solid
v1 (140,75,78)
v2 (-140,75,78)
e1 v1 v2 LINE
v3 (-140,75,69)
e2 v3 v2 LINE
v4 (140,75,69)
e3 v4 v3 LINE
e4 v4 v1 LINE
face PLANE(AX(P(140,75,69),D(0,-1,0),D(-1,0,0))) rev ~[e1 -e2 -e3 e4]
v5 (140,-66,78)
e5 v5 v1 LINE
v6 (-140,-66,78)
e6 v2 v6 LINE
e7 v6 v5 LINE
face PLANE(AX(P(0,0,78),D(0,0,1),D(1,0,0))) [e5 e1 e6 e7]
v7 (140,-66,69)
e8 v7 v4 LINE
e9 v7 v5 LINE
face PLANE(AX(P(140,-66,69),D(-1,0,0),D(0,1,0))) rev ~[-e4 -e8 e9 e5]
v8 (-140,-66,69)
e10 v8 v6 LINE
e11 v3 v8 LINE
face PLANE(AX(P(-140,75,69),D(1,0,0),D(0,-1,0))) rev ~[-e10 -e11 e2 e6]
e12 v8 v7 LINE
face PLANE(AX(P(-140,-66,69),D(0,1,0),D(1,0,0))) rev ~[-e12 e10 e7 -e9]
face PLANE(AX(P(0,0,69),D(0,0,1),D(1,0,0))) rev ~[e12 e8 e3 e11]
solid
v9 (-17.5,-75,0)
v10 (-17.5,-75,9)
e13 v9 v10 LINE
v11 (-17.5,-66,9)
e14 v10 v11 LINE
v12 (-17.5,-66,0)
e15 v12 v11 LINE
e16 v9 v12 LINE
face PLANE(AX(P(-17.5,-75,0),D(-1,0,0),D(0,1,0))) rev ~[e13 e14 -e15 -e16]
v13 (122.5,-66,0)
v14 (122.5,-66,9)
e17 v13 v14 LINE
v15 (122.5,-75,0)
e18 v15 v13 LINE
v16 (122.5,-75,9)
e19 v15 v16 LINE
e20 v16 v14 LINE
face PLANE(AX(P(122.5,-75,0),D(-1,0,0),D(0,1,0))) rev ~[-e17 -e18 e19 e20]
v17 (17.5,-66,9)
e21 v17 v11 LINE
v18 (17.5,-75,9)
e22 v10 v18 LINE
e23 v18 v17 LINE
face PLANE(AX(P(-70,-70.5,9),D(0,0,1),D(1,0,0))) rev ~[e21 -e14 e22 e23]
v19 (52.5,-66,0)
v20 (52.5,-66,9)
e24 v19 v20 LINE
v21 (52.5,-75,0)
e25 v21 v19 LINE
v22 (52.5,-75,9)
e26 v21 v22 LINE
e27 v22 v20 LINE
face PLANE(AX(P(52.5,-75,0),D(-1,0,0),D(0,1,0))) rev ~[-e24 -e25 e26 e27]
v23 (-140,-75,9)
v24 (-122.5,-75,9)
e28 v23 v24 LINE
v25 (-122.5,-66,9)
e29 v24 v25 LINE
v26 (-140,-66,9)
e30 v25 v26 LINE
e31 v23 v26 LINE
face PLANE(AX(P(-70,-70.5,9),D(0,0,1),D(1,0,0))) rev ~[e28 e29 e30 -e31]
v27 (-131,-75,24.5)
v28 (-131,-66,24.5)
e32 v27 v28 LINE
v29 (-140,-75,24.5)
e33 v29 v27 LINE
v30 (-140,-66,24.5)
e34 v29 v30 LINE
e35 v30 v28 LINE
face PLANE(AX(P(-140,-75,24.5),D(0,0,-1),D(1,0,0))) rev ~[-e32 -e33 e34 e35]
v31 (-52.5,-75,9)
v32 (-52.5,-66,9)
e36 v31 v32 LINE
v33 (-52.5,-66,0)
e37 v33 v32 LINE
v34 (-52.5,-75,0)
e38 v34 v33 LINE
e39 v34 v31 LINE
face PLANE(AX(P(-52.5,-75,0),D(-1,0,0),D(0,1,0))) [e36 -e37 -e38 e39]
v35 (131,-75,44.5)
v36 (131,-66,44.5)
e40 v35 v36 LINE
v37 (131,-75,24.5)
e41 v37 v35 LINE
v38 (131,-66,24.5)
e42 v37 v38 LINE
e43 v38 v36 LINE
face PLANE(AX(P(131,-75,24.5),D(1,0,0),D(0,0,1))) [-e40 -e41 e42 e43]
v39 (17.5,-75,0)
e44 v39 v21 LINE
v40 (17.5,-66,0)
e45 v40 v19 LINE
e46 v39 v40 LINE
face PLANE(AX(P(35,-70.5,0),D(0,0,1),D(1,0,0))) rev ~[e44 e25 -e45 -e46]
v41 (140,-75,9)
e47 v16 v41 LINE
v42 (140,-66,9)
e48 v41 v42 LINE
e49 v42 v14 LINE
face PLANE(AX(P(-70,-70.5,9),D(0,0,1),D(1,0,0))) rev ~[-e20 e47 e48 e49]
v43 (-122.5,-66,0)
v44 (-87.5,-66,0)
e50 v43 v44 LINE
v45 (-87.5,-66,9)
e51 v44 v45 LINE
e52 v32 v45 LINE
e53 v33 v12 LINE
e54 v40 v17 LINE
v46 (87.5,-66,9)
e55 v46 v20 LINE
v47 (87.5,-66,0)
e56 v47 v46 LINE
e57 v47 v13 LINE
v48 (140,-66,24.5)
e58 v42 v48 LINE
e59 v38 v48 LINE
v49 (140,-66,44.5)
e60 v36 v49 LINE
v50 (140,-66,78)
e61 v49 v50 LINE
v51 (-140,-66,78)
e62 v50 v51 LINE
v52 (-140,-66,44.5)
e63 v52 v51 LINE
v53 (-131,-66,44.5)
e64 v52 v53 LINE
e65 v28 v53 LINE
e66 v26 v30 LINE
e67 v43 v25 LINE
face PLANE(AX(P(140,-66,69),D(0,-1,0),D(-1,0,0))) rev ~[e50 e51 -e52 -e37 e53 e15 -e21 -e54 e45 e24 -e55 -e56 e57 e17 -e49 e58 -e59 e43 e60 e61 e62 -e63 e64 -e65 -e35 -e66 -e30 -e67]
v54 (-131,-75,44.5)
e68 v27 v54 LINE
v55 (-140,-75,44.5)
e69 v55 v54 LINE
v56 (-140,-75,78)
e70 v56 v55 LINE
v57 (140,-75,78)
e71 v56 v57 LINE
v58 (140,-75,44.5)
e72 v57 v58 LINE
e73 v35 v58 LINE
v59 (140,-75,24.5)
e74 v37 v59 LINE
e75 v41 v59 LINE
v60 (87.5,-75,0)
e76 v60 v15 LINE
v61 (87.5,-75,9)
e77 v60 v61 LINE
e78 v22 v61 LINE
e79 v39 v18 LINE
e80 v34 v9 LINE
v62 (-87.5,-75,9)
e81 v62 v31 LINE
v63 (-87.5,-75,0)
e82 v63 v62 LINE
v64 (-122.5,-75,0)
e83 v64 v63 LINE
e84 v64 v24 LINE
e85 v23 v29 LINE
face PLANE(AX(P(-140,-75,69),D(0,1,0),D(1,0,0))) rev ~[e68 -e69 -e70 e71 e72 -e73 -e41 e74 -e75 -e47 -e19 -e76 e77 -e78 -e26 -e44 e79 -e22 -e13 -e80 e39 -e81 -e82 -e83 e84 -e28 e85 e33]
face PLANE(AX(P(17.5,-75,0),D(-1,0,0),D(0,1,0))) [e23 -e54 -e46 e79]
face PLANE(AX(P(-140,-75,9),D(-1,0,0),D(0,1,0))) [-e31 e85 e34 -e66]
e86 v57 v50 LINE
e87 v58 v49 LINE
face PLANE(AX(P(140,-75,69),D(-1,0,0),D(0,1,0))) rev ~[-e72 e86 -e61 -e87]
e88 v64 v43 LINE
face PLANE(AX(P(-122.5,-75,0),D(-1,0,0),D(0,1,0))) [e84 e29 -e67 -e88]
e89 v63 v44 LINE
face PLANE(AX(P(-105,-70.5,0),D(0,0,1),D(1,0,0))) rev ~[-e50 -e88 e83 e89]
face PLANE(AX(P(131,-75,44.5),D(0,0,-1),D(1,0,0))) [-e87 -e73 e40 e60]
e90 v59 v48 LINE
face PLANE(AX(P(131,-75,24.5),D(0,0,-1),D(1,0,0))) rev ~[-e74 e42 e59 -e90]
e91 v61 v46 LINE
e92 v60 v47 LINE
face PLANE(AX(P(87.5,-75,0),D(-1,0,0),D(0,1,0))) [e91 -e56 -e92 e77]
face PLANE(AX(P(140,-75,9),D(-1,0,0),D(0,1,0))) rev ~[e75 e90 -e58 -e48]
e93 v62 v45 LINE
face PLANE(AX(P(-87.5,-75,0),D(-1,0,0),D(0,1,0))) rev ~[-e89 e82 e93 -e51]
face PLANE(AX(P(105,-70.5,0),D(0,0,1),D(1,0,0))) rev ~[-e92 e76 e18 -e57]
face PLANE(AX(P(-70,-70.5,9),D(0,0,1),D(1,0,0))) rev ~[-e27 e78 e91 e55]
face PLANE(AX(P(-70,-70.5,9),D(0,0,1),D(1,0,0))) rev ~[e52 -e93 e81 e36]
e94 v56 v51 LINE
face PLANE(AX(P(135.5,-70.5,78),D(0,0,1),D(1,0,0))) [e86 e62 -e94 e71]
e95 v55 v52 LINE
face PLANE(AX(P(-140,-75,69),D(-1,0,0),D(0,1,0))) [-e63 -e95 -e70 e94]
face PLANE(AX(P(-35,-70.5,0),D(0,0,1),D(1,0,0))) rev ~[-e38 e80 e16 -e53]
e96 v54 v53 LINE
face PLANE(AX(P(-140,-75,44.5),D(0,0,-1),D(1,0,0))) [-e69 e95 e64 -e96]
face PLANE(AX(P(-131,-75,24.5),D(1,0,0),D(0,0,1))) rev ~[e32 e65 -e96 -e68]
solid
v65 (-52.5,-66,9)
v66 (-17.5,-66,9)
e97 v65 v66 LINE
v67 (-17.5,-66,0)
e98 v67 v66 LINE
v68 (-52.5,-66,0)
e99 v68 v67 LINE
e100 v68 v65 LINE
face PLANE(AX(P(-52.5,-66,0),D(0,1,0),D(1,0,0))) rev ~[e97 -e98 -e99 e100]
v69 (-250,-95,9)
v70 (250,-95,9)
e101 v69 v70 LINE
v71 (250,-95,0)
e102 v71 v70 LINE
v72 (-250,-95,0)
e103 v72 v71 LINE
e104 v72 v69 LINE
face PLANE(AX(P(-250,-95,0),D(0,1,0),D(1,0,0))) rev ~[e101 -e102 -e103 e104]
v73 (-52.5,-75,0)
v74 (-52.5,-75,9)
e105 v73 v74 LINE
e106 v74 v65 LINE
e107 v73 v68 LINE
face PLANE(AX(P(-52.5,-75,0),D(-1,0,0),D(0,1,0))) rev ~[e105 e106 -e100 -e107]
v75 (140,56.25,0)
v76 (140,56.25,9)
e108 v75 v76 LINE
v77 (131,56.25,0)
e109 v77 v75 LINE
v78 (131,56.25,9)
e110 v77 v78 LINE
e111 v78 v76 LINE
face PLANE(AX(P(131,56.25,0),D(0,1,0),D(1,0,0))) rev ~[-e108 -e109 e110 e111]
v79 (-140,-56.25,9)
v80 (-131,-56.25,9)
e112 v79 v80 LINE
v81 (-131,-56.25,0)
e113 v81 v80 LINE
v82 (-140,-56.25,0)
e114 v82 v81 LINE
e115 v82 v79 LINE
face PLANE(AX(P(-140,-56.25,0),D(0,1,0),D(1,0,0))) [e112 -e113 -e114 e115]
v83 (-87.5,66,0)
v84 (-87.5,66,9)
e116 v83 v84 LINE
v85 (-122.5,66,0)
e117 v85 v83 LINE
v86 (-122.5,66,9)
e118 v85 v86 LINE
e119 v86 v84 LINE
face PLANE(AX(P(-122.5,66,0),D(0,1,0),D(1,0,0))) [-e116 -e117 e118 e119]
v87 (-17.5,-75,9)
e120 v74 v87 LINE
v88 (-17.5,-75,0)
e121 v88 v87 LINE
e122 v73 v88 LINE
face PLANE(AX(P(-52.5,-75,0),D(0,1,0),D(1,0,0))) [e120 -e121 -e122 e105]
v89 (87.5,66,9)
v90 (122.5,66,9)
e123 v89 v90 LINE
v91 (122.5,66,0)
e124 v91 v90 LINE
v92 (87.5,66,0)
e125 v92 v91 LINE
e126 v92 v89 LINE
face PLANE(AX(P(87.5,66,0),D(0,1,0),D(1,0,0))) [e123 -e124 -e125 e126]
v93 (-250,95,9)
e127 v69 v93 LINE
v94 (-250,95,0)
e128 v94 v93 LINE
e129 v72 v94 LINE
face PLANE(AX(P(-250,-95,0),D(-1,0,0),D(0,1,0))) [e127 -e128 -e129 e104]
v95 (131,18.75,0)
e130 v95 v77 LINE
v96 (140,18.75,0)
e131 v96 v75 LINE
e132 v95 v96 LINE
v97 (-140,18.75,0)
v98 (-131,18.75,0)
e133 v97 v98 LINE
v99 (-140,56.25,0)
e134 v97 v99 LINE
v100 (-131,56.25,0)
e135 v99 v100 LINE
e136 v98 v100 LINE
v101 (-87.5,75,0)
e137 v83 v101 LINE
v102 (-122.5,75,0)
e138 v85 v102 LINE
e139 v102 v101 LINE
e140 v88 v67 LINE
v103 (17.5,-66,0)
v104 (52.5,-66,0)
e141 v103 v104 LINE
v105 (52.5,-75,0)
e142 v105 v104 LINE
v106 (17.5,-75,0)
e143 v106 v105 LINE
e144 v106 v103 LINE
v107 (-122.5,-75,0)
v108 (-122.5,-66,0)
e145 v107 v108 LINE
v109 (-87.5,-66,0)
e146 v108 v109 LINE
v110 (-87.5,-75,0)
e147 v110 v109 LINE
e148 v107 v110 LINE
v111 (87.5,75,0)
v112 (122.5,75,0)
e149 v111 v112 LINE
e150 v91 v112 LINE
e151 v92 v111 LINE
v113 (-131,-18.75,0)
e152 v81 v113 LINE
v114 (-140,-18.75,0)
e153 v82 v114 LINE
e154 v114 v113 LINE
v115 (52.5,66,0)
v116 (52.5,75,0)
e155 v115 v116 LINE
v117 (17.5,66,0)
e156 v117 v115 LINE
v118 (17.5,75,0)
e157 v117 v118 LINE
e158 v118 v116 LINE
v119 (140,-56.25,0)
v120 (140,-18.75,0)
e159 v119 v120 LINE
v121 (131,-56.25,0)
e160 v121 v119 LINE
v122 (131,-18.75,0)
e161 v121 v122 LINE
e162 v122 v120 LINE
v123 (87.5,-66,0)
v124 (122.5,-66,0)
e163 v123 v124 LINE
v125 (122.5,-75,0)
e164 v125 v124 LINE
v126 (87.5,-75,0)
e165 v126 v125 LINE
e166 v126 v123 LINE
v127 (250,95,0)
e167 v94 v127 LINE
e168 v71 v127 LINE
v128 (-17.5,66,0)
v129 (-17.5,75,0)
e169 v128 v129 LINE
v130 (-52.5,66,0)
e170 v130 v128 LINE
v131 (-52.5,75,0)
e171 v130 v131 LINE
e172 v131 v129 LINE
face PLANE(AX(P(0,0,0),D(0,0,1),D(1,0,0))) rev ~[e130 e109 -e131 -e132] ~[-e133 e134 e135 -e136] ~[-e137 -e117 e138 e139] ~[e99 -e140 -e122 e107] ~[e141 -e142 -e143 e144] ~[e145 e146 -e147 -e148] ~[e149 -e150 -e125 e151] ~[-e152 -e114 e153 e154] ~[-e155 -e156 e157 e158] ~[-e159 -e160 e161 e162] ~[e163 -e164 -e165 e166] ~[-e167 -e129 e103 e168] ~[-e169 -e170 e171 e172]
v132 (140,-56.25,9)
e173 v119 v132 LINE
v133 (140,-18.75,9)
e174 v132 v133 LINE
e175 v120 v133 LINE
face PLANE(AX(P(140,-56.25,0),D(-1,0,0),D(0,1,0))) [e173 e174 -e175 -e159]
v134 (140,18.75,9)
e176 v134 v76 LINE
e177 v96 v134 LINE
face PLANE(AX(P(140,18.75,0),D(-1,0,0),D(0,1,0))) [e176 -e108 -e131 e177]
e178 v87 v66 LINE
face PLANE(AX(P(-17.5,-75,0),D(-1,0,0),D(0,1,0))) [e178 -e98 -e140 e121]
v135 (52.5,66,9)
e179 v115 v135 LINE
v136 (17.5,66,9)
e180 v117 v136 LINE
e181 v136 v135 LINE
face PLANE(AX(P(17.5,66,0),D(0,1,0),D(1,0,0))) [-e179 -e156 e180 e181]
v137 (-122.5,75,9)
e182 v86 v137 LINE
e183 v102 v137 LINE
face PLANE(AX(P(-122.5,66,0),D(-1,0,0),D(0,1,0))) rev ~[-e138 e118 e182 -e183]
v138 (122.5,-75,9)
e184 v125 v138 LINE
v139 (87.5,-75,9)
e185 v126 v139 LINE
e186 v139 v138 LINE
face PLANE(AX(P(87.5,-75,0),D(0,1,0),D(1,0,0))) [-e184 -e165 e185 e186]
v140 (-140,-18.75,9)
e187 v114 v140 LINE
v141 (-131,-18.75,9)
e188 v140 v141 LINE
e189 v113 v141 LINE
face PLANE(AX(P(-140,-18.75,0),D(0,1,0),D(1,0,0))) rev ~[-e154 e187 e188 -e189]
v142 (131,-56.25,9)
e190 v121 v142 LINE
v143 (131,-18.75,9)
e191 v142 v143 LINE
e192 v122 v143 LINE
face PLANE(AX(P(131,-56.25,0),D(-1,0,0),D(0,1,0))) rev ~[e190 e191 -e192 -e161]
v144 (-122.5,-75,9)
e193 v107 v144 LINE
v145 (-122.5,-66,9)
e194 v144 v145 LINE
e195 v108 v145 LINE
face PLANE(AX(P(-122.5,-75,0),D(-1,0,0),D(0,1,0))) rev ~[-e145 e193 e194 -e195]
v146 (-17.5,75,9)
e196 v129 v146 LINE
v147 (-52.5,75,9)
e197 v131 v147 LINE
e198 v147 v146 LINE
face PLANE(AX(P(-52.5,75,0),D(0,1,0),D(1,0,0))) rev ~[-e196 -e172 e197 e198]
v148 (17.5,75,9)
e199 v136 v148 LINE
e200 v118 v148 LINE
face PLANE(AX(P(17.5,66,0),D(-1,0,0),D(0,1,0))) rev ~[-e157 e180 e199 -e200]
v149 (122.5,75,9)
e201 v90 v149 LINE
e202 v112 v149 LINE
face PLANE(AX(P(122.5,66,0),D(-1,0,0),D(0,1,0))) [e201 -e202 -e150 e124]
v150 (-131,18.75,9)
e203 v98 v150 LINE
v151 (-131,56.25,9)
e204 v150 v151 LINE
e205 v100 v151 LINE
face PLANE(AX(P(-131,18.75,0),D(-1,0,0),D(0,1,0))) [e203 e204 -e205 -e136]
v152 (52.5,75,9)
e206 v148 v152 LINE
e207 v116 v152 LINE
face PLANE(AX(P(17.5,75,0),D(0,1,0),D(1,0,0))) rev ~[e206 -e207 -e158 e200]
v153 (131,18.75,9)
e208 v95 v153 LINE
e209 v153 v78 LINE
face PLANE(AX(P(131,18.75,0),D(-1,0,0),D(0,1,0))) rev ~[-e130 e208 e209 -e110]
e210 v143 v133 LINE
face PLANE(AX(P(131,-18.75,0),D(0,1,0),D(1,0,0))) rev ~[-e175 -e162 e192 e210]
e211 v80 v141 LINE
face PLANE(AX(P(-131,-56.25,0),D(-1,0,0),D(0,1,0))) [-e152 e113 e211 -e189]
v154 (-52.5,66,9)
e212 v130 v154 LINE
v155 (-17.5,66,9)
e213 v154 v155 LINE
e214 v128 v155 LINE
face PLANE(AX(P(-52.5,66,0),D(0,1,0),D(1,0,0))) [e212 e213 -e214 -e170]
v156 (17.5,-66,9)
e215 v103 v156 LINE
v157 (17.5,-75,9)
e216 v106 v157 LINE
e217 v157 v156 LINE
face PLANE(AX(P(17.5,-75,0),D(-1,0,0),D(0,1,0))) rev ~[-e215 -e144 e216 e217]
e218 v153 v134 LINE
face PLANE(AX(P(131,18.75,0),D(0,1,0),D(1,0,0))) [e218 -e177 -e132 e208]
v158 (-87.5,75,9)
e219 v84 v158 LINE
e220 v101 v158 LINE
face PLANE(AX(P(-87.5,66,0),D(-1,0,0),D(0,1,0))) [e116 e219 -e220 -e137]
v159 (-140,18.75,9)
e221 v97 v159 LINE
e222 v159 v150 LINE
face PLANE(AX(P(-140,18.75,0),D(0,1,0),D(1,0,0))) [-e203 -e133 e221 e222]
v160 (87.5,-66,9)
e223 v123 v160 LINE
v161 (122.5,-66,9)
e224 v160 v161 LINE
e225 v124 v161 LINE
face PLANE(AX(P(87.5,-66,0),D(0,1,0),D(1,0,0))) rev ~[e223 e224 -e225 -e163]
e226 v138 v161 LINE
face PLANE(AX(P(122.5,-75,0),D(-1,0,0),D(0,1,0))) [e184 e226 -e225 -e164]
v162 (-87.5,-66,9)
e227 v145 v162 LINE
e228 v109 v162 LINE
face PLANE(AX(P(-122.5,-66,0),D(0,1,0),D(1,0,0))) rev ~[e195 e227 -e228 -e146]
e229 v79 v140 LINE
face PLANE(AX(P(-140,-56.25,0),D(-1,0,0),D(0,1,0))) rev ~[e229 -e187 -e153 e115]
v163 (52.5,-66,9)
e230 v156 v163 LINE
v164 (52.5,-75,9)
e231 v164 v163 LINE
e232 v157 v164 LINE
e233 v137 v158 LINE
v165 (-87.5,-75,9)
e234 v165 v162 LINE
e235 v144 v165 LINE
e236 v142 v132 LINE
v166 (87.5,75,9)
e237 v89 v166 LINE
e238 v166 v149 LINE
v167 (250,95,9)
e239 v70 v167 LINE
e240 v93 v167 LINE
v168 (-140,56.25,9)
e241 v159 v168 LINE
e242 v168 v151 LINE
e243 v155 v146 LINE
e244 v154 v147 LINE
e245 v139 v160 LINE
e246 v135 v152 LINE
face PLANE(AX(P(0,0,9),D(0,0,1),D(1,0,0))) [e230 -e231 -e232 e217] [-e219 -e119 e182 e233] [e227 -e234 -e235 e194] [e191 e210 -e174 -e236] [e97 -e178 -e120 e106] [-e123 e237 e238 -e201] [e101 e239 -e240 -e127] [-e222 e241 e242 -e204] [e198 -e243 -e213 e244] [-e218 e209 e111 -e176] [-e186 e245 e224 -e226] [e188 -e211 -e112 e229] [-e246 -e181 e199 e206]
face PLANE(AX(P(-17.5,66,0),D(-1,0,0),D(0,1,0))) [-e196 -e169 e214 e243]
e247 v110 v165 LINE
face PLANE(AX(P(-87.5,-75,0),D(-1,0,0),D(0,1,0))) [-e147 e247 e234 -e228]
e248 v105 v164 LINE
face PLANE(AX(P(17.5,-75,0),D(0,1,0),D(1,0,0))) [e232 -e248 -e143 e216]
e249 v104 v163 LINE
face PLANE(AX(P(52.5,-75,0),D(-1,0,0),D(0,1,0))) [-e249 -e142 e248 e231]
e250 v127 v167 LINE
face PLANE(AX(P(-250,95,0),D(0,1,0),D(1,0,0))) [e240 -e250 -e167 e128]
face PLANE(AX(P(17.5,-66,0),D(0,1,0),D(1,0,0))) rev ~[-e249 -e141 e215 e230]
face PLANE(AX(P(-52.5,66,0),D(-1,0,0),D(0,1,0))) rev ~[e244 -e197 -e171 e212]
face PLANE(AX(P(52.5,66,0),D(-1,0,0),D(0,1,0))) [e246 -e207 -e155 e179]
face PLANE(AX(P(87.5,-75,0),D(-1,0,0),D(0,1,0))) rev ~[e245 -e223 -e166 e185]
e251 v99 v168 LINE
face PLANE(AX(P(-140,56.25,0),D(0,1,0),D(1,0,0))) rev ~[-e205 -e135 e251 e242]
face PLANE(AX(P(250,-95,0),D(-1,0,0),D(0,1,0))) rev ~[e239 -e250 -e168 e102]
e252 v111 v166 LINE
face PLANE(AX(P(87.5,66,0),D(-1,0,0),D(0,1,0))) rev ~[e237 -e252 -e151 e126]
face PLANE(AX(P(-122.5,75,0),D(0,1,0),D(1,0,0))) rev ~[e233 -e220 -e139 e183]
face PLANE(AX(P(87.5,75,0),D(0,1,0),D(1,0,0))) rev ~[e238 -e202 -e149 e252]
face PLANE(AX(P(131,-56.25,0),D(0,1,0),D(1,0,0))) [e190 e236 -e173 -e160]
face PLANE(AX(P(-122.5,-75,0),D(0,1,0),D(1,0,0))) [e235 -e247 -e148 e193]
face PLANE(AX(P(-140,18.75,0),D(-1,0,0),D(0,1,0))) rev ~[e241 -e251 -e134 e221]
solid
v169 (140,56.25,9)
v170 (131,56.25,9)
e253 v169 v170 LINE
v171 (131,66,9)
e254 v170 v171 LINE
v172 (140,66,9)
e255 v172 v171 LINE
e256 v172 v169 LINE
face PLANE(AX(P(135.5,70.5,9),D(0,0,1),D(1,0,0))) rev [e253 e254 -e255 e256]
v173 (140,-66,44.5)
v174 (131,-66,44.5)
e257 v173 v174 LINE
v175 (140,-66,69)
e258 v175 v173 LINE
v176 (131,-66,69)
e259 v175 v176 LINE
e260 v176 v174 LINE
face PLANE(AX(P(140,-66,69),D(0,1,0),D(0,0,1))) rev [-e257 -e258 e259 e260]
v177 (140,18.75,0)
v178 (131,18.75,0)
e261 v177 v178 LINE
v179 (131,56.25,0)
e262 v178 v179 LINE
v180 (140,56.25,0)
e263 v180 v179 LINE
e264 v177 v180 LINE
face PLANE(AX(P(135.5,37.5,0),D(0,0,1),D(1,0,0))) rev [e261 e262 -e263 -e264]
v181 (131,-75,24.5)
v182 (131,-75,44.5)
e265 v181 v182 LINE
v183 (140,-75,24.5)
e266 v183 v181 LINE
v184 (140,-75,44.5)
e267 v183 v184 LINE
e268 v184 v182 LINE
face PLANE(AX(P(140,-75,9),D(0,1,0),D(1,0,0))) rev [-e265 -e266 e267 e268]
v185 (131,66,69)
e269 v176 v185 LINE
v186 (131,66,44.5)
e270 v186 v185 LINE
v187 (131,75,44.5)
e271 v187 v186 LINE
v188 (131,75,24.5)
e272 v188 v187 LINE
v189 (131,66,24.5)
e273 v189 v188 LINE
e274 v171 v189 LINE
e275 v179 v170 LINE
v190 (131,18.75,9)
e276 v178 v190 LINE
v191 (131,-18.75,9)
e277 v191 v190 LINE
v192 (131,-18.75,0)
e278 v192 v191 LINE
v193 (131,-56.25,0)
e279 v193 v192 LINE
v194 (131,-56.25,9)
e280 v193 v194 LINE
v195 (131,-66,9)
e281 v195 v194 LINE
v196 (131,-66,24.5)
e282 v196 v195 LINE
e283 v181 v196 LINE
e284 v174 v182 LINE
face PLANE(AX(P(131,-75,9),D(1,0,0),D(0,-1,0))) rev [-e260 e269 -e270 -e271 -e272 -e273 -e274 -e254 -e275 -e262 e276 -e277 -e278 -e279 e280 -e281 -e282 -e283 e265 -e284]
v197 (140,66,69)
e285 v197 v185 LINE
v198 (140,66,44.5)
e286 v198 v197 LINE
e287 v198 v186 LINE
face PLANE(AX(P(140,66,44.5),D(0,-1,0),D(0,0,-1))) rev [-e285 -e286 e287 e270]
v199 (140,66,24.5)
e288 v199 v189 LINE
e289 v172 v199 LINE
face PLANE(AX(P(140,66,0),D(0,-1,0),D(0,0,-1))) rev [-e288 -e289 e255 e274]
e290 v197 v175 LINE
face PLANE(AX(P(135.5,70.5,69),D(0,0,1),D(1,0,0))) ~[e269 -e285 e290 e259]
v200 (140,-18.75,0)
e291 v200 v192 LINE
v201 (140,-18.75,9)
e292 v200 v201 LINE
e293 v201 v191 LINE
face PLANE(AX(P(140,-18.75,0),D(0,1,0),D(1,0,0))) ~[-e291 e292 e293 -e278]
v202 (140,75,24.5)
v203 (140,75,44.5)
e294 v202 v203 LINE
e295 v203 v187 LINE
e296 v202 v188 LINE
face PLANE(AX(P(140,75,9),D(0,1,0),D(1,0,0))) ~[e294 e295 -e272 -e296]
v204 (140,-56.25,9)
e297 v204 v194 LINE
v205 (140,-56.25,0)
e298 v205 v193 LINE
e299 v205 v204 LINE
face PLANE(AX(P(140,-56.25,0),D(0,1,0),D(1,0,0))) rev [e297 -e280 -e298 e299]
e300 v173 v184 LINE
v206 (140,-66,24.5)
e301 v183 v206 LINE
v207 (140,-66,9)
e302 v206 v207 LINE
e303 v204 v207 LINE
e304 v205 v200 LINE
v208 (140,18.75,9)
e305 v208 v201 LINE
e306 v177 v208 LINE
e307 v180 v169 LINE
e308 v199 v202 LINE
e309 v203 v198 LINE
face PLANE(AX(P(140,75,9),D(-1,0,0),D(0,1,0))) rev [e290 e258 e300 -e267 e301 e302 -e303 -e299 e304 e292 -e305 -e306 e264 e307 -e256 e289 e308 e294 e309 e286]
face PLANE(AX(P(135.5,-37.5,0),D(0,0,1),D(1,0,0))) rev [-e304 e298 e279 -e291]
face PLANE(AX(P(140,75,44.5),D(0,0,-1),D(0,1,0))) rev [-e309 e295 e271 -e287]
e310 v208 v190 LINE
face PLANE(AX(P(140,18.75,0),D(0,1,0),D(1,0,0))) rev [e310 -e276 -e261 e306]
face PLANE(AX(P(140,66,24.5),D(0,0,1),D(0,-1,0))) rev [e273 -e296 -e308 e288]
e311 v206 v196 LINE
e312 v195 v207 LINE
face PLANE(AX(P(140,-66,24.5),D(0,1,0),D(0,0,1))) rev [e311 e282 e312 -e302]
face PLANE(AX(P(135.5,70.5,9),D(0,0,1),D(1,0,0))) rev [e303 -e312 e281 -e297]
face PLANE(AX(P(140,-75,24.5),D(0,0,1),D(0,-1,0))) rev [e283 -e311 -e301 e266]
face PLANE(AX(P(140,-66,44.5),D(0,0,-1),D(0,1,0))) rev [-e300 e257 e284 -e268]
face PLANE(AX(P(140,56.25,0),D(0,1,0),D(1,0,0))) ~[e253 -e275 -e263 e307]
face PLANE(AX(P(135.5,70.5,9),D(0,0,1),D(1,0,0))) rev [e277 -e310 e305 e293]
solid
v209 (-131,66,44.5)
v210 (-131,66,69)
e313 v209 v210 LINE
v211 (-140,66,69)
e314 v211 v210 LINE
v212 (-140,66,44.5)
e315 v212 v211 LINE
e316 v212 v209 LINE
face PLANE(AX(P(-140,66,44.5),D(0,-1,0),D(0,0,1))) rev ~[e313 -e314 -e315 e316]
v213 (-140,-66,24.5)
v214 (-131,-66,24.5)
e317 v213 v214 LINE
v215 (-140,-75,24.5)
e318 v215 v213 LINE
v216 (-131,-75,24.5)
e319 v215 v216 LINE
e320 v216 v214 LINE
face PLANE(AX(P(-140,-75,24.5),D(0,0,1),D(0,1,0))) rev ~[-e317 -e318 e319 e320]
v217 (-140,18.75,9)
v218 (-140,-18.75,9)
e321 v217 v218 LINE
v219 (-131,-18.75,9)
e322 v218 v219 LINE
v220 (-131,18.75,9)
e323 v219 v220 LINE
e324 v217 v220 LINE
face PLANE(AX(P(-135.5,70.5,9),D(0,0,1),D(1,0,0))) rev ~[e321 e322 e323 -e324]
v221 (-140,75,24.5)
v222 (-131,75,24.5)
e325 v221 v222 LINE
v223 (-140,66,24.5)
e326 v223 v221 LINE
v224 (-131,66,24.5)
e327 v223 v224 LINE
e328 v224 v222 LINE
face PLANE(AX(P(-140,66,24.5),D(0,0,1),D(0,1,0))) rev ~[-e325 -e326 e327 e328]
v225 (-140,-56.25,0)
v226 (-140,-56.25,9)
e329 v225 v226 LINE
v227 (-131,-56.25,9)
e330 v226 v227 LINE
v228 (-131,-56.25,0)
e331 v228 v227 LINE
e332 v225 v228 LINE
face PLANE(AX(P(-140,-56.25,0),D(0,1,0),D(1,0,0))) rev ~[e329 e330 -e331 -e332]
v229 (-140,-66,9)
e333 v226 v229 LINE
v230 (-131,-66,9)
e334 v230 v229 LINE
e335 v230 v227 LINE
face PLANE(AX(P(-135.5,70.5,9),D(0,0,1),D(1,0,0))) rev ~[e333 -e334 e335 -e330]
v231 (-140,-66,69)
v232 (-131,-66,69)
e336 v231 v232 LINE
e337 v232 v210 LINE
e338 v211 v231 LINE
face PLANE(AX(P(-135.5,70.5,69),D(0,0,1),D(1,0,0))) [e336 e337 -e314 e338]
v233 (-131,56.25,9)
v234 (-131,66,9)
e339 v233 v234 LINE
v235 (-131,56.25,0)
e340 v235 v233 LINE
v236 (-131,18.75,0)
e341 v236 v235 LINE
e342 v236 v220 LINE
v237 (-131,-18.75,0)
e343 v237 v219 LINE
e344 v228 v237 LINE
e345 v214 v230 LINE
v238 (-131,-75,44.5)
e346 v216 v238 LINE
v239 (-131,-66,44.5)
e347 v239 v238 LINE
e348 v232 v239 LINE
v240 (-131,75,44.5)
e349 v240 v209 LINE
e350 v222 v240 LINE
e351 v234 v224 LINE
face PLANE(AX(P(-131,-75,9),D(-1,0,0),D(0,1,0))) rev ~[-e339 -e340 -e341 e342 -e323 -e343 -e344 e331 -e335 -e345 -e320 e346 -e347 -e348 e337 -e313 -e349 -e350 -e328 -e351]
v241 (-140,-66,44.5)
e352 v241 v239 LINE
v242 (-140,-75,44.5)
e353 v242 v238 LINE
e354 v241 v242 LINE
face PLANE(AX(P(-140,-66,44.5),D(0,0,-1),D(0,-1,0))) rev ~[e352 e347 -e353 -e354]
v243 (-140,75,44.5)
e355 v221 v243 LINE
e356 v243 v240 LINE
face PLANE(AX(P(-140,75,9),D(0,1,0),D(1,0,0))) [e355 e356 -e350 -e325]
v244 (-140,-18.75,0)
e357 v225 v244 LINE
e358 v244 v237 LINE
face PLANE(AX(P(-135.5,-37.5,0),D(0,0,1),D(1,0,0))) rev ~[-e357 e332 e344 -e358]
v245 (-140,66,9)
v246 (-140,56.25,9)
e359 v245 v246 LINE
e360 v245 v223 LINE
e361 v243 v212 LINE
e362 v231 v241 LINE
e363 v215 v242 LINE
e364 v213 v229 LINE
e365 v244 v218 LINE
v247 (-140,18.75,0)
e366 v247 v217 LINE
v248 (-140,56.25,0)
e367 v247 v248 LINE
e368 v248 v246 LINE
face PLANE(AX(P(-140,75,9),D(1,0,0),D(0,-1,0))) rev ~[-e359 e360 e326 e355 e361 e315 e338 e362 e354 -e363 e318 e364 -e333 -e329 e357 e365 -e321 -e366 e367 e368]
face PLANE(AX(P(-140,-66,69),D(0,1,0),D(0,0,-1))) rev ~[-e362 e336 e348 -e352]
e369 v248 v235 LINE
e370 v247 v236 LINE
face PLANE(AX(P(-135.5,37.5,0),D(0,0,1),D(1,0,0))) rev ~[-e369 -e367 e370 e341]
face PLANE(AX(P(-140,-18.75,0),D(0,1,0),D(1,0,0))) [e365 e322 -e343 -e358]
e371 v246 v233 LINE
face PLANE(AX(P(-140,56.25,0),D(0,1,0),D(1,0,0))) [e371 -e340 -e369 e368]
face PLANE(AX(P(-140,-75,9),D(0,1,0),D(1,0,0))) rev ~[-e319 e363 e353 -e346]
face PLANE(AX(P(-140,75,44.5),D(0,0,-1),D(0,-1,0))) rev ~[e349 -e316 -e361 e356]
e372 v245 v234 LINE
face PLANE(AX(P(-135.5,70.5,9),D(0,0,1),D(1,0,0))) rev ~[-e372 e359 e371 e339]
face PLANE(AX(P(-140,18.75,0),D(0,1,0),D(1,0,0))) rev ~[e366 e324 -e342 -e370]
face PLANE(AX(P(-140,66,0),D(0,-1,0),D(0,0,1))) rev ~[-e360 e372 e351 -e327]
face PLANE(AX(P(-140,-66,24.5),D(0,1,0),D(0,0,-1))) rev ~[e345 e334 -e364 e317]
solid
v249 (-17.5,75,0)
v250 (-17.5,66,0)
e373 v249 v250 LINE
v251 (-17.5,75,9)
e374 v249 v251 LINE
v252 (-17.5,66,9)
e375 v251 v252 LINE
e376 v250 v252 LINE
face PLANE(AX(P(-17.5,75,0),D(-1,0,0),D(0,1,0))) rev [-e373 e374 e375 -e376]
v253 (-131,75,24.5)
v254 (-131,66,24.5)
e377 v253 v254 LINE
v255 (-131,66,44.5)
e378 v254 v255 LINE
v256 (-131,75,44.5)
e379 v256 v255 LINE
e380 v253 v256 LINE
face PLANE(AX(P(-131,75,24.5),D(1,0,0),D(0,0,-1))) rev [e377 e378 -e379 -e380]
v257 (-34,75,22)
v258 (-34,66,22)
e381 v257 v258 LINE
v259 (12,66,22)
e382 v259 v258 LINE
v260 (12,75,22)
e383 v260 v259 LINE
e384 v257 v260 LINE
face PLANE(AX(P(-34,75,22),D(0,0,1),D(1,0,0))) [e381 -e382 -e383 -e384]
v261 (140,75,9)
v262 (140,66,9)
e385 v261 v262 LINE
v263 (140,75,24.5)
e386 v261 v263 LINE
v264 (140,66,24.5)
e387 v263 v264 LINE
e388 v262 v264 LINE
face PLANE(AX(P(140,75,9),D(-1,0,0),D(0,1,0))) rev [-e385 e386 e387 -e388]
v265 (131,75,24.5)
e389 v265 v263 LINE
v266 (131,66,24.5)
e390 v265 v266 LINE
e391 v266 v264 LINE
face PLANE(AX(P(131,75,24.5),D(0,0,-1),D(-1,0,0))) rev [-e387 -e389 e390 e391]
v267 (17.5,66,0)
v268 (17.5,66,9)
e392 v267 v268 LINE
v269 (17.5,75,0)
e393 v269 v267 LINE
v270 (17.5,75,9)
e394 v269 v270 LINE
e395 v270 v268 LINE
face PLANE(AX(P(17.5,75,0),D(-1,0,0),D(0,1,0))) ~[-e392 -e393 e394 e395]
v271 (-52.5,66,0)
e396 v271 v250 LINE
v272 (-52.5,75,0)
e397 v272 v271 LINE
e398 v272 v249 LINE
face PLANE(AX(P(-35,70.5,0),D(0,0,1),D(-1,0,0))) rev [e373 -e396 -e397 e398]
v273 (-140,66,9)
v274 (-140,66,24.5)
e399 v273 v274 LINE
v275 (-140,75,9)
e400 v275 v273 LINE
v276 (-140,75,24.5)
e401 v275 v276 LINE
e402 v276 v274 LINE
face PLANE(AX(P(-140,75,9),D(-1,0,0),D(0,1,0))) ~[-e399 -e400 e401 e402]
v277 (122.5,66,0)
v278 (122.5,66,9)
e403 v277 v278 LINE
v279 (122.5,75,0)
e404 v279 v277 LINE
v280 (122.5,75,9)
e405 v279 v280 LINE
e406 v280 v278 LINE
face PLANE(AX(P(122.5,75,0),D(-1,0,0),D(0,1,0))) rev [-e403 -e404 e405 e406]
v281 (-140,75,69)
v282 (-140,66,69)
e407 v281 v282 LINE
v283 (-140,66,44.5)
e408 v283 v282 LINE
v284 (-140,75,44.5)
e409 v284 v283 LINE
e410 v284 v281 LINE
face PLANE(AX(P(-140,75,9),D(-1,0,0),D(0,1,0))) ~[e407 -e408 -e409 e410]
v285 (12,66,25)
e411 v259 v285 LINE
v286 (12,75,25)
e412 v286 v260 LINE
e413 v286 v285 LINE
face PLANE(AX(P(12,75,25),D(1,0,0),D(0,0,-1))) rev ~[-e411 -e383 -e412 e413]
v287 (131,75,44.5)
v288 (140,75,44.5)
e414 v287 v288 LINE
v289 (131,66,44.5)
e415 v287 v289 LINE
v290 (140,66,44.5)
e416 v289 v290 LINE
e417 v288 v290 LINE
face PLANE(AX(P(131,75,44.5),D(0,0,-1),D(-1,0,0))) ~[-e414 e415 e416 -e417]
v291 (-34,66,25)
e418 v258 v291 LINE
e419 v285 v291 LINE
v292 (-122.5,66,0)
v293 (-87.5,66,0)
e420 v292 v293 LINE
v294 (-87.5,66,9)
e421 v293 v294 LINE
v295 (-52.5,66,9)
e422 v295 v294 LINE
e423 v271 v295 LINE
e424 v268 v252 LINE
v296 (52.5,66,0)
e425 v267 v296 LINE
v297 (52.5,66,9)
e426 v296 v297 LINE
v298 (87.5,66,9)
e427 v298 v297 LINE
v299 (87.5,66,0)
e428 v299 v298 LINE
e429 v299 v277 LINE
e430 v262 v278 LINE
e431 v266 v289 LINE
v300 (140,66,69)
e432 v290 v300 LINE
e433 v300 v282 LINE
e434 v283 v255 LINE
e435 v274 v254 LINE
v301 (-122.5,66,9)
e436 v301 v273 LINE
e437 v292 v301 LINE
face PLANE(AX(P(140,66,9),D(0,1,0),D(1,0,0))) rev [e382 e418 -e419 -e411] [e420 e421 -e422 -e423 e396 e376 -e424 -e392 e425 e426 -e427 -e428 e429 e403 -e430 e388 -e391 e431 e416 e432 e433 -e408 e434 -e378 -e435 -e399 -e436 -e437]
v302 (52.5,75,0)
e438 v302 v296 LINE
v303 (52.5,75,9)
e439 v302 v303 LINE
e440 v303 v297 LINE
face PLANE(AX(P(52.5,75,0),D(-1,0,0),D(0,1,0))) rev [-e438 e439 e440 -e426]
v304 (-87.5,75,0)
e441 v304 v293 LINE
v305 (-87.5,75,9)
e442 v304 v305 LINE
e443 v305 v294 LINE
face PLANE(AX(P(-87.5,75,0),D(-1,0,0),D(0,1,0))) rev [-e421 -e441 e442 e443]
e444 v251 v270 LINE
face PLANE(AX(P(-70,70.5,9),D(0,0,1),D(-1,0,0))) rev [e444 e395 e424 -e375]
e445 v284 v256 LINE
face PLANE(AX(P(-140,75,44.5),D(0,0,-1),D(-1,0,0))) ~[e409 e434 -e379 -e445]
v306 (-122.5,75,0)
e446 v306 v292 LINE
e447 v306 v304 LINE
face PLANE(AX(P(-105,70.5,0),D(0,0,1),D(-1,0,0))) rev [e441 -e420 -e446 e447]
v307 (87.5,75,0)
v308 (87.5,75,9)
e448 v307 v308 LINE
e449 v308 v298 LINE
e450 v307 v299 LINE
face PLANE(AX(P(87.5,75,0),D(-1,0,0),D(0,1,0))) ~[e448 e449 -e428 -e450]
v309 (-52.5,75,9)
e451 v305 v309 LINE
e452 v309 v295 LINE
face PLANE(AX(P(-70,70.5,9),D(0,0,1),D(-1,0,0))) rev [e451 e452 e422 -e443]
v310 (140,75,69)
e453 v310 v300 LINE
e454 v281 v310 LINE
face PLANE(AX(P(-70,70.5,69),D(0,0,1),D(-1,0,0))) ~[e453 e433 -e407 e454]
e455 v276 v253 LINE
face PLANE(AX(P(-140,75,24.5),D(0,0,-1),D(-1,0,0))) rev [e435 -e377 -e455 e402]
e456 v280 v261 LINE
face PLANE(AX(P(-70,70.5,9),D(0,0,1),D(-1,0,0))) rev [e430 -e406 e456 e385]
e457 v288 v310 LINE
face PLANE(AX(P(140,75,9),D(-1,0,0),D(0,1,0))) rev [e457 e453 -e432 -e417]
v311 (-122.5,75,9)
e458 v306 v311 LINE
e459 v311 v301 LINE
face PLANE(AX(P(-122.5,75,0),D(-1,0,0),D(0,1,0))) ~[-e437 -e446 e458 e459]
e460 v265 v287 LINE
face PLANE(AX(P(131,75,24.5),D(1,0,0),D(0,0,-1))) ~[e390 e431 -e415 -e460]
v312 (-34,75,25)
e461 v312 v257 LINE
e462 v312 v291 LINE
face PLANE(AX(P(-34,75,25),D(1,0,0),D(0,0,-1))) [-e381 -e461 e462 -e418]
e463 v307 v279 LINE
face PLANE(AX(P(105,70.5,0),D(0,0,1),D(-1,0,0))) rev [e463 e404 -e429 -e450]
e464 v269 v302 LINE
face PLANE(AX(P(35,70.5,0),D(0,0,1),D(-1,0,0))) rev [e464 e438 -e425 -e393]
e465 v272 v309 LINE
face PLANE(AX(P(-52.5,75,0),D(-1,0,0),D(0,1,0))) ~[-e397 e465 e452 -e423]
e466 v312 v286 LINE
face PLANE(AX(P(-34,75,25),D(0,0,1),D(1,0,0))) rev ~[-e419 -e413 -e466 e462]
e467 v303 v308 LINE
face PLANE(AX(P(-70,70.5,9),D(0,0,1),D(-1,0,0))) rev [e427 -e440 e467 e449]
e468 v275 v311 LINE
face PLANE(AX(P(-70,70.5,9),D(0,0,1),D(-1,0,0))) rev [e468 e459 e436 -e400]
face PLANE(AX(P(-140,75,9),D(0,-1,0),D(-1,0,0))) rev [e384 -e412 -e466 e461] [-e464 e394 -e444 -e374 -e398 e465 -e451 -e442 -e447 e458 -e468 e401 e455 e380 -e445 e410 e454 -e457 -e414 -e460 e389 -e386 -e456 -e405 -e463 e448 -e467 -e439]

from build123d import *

# Parameters (mm, degrees)
ESQUISSE1_W             = 500
ESQUISSE1_H             = 190
ESQUISSE1_W_2           = 9
ESQUISSE1_H_2           = 37.5
ESQUISSE1_W_3           = 35
ESQUISSE1_H_3           = 9
BOSS_EXTRU_1_DEPTH      = 9
BOSS_EXTRU_2_START      = 9
ESQUISSE1_5_W           = 9
ESQUISSE1_5_H           = 9
ESQUISSE1_5_H_2         = 9.75
ESQUISSE1_5_H_3         = 37.5
BOSS_EXTRU_2_DEPTH      = 60
ESQUISSE1_6_W           = 9
ESQUISSE1_6_H           = 37.5
BOSS_EXTRU_3_DEPTH      = 9
ESQUISSE2_W             = 15.5
ESQUISSE2_H             = 9
ESQUISSE2_W_2           = 9
ENL_V_MAT_EXTRU_1_DEPTH = 408.291050724
BOSS_EXTRU_4_START      = 9
ESQUISSE1_7_W           = 35
ESQUISSE1_7_H           = 9
ESQUISSE1_7_W_2         = 8.5
ESQUISSE1_7_W_3         = 9
BOSS_EXTRU_4_DEPTH      = 60
ESQUISSE1_8_W           = 35
ESQUISSE1_8_H           = 9
BOSS_EXTRU_5_DEPTH      = 9
ESQUISSE3_W             = 9
ESQUISSE3_H             = 20
ENL_V_MAT_EXTRU_2_DEPTH = 311.098371489
BOSS_EXTRU_6_START      = 69
ESQUISSE1_9_W           = 9
ESQUISSE1_9_H           = 9
ESQUISSE1_9_W_2         = 8.5
ESQUISSE1_9_W_3         = 35
BOSS_EXTRU_6_DEPTH      = 9
BOSS_EXTRU_7_START      = 69
ESQUISSE1_10_W          = 262
ESQUISSE1_10_H          = 132
ESQUISSE1_10_W_2        = 9
ESQUISSE1_10_H_2        = 9.75
ESQUISSE1_10_H_3        = 37.5
ESQUISSE1_10_H_4        = 9
ESQUISSE1_10_W_3        = 8.5
ESQUISSE1_10_W_4        = 35
BOSS_EXTRU_7_DEPTH      = 9
ESQUISSE4_W             = 46
ESQUISSE4_H             = 3
ENL_V_MAT_EXTRU_3_DEPTH = 10


with BuildPart() as part:
    # Esquisse1 → Boss.-Extru.1 (new body)
    with BuildSketch(Plane.XY):
        Rectangle(ESQUISSE1_W, ESQUISSE1_H)
        with Locations((-135.5, 37.5)):
            Rectangle(ESQUISSE1_W_2, ESQUISSE1_H_2, mode=Mode.SUBTRACT)
        with Locations((-135.5, -37.5)):
            Rectangle(ESQUISSE1_W_2, ESQUISSE1_H_2, mode=Mode.SUBTRACT)
        with Locations((-105, -70.5)):
            Rectangle(ESQUISSE1_W_3, ESQUISSE1_H_3, mode=Mode.SUBTRACT)
        with Locations((-35, -70.5)):
            Rectangle(ESQUISSE1_W_3, ESQUISSE1_H_3, mode=Mode.SUBTRACT)
        with Locations((35, -70.5)):
            Rectangle(ESQUISSE1_W_3, ESQUISSE1_H_3, mode=Mode.SUBTRACT)
        with Locations((105, -70.5)):
            Rectangle(ESQUISSE1_W_3, ESQUISSE1_H_3, mode=Mode.SUBTRACT)
        with Locations((135.5, -37.5)):
            Rectangle(ESQUISSE1_W_2, ESQUISSE1_H_2, mode=Mode.SUBTRACT)
        with Locations((135.5, 37.5)):
            Rectangle(ESQUISSE1_W_2, ESQUISSE1_H_2, mode=Mode.SUBTRACT)
        with Locations((105, 70.5)):
            Rectangle(ESQUISSE1_W_3, ESQUISSE1_H_3, mode=Mode.SUBTRACT)
        with Locations((35, 70.5)):
            Rectangle(ESQUISSE1_W_3, ESQUISSE1_H_3, mode=Mode.SUBTRACT)
        with Locations((-35, 70.5)):
            Rectangle(ESQUISSE1_W_3, ESQUISSE1_H_3, mode=Mode.SUBTRACT)
        with Locations((-105, 70.5)):
            Rectangle(ESQUISSE1_W_3, ESQUISSE1_H_3, mode=Mode.SUBTRACT)
    extrude(amount=BOSS_EXTRU_1_DEPTH)


with BuildPart() as body_2:
    # Esquisse1<5> → Boss.-Extru.2 (new body)
    with BuildSketch(Plane.XY.offset(BOSS_EXTRU_2_START)):
        with Locations((-135.5, 70.5)):
            Rectangle(ESQUISSE1_5_W, ESQUISSE1_5_H)
        with Locations((-135.5, 61.125)):
            Rectangle(ESQUISSE1_5_W, ESQUISSE1_5_H_2)
        with Locations((-135.5, 37.5)):
            Rectangle(ESQUISSE1_5_W, ESQUISSE1_5_H_3)
        with Locations((-135.5, 0)):
            Rectangle(ESQUISSE1_5_W, ESQUISSE1_5_H_3)
        with Locations((-135.5, -37.5)):
            Rectangle(ESQUISSE1_5_W, ESQUISSE1_5_H_3)
        with Locations((-135.5, -61.125)):
            Rectangle(ESQUISSE1_5_W, ESQUISSE1_5_H_2)
        with Locations((-135.5, -70.5)):
            Rectangle(ESQUISSE1_5_W, ESQUISSE1_5_H)
    extrude(amount=BOSS_EXTRU_2_DEPTH)

    # Esquisse1<6> → Boss.-Extru.3 (add)
    with BuildSketch(Plane.XY):
        with Locations((-135.5, 37.5)):
            Rectangle(ESQUISSE1_6_W, ESQUISSE1_6_H)
        with Locations((-135.5, -37.5)):
            Rectangle(ESQUISSE1_6_W, ESQUISSE1_6_H)
    extrude(amount=BOSS_EXTRU_3_DEPTH)

    # Esquisse2 → Enlèv. mat.-Extru.1 (cut, through all)
    with BuildSketch(Plane.ZY.offset(140)):
        with Locations((16.75, 70.5)):
            Rectangle(ESQUISSE2_W, ESQUISSE2_H)
        with Locations((4.5, 70.5)):
            Rectangle(ESQUISSE2_W_2, ESQUISSE2_H)
        Polygon((44.5, 75), (44.5, 66), (60, 66), (69, 66), (69, 75), align=None)
        Polygon((69, -66), (60, -66), (44.5, -66), (44.5, -75), (69, -75), align=None)
        with Locations((16.75, -70.5)):
            Rectangle(ESQUISSE2_W, ESQUISSE2_H)
        with Locations((4.5, -70.5)):
            Rectangle(ESQUISSE2_W_2, ESQUISSE2_H)
    extrude(amount=-ENL_V_MAT_EXTRU_1_DEPTH, mode=Mode.SUBTRACT)


with BuildPart() as body_3:
    # Symétrie1: mirrored copy
    add(body_2.part.mirror(Plane(origin=(0, 0, 0), x_dir=(0, 0, 1), z_dir=(1, 0, 0))))


with BuildPart() as body_4:
    # Esquisse1<7> → Boss.-Extru.4 (new body)
    with BuildSketch(Plane.XY.offset(BOSS_EXTRU_4_START)):
        with Locations((-70, -70.5)):
            Rectangle(ESQUISSE1_7_W, ESQUISSE1_7_H)
        with Locations((-35, -70.5)):
            Rectangle(ESQUISSE1_7_W, ESQUISSE1_7_H)
        with Locations((0, -70.5)):
            Rectangle(ESQUISSE1_7_W, ESQUISSE1_7_H)
        with Locations((35, -70.5)):
            Rectangle(ESQUISSE1_7_W, ESQUISSE1_7_H)
        with Locations((70, -70.5)):
            Rectangle(ESQUISSE1_7_W, ESQUISSE1_7_H)
        with Locations((105, -70.5)):
            Rectangle(ESQUISSE1_7_W, ESQUISSE1_7_H)
        with Locations((126.75, -70.5)):
            Rectangle(ESQUISSE1_7_W_2, ESQUISSE1_7_H)
        with Locations((135.5, -70.5)):
            Rectangle(ESQUISSE1_7_W_3, ESQUISSE1_7_H)
        with Locations((-105, -70.5)):
            Rectangle(ESQUISSE1_7_W, ESQUISSE1_7_H)
        with Locations((-126.75, -70.5)):
            Rectangle(ESQUISSE1_7_W_2, ESQUISSE1_7_H)
        with Locations((-135.5, -70.5)):
            Rectangle(ESQUISSE1_7_W_3, ESQUISSE1_7_H)
    extrude(amount=BOSS_EXTRU_4_DEPTH)

    # Esquisse1<8> → Boss.-Extru.5 (add)
    with BuildSketch(Plane.XY):
        with Locations((-105, -70.5)):
            Rectangle(ESQUISSE1_8_W, ESQUISSE1_8_H)
        with Locations((-35, -70.5)):
            Rectangle(ESQUISSE1_8_W, ESQUISSE1_8_H)
        with Locations((35, -70.5)):
            Rectangle(ESQUISSE1_8_W, ESQUISSE1_8_H)
        with Locations((105, -70.5)):
            Rectangle(ESQUISSE1_8_W, ESQUISSE1_8_H)
    extrude(amount=BOSS_EXTRU_5_DEPTH)

    # Esquisse3 → Enlèv. mat.-Extru.2 (cut, through all)
    with BuildSketch(Plane.XZ.offset(75)):
        with Locations((-135.5, 34.5)):
            Rectangle(ESQUISSE3_W, ESQUISSE3_H)
        with Locations((135.5, 34.5)):
            Rectangle(ESQUISSE3_W, ESQUISSE3_H)
    extrude(amount=-ENL_V_MAT_EXTRU_2_DEPTH, mode=Mode.SUBTRACT)


with BuildPart() as body_5:
    # Symétrie2: mirrored copy
    add(body_4.part.mirror(Plane.ZX))

    # Esquisse4 → Enlèv. mat.-Extru.3 (cut)
    with BuildSketch(Plane(origin=(0, 75, 0), x_dir=(1, 0, 0), z_dir=(0, 1, 0))):
        with Locations((-11, -23.5)):
            Rectangle(ESQUISSE4_W, ESQUISSE4_H)
    extrude(amount=-ENL_V_MAT_EXTRU_3_DEPTH, mode=Mode.SUBTRACT)


with BuildPart() as body_4_1:
    add(body_4.part)

    # Esquisse1<9> → Boss.-Extru.6 (add)
    with BuildSketch(Plane.XY.offset(BOSS_EXTRU_6_START)):
        with Locations((135.5, -70.5)):
            Rectangle(ESQUISSE1_9_W, ESQUISSE1_9_H)
        with Locations((126.75, -70.5)):
            Rectangle(ESQUISSE1_9_W_2, ESQUISSE1_9_H)
        with Locations((105, -70.5)):
            Rectangle(ESQUISSE1_9_W_3, ESQUISSE1_9_H)
        with Locations((70, -70.5)):
            Rectangle(ESQUISSE1_9_W_3, ESQUISSE1_9_H)
        with Locations((35, -70.5)):
            Rectangle(ESQUISSE1_9_W_3, ESQUISSE1_9_H)
        with Locations((0, -70.5)):
            Rectangle(ESQUISSE1_9_W_3, ESQUISSE1_9_H)
        with Locations((-35, -70.5)):
            Rectangle(ESQUISSE1_9_W_3, ESQUISSE1_9_H)
        with Locations((-70, -70.5)):
            Rectangle(ESQUISSE1_9_W_3, ESQUISSE1_9_H)
        with Locations((-105, -70.5)):
            Rectangle(ESQUISSE1_9_W_3, ESQUISSE1_9_H)
        with Locations((-126.75, -70.5)):
            Rectangle(ESQUISSE1_9_W_2, ESQUISSE1_9_H)
        with Locations((-135.5, -70.5)):
            Rectangle(ESQUISSE1_9_W, ESQUISSE1_9_H)
    extrude(amount=BOSS_EXTRU_6_DEPTH)


with BuildPart() as body_6:
    # Esquisse1<10> → Boss.-Extru.7 (new body)
    with BuildSketch(Plane.XY.offset(BOSS_EXTRU_7_START)):
        Rectangle(ESQUISSE1_10_W, ESQUISSE1_10_H)
        with Locations((135.5, -61.125)):
            Rectangle(ESQUISSE1_10_W_2, ESQUISSE1_10_H_2)
        with Locations((135.5, -37.5)):
            Rectangle(ESQUISSE1_10_W_2, ESQUISSE1_10_H_3)
        with Locations((135.5, 0)):
            Rectangle(ESQUISSE1_10_W_2, ESQUISSE1_10_H_3)
        with Locations((135.5, 37.5)):
            Rectangle(ESQUISSE1_10_W_2, ESQUISSE1_10_H_3)
        with Locations((135.5, 70.5)):
            Rectangle(ESQUISSE1_10_W_2, ESQUISSE1_10_H_4)
        with Locations((126.75, 70.5)):
            Rectangle(ESQUISSE1_10_W_3, ESQUISSE1_10_H_4)
        with Locations((105, 70.5)):
            Rectangle(ESQUISSE1_10_W_4, ESQUISSE1_10_H_4)
        with Locations((70, 70.5)):
            Rectangle(ESQUISSE1_10_W_4, ESQUISSE1_10_H_4)
        with Locations((35, 70.5)):
            Rectangle(ESQUISSE1_10_W_4, ESQUISSE1_10_H_4)
        with Locations((0, 70.5)):
            Rectangle(ESQUISSE1_10_W_4, ESQUISSE1_10_H_4)
        with Locations((-35, 70.5)):
            Rectangle(ESQUISSE1_10_W_4, ESQUISSE1_10_H_4)
        with Locations((-70, 70.5)):
            Rectangle(ESQUISSE1_10_W_4, ESQUISSE1_10_H_4)
        with Locations((-105, 70.5)):
            Rectangle(ESQUISSE1_10_W_4, ESQUISSE1_10_H_4)
        with Locations((-135.5, 70.5)):
            Rectangle(ESQUISSE1_10_W_2, ESQUISSE1_10_H_4)
        with Locations((-135.5, 61.125)):
            Rectangle(ESQUISSE1_10_W_2, ESQUISSE1_10_H_2)
        with Locations((-126.75, 70.5)):
            Rectangle(ESQUISSE1_10_W_3, ESQUISSE1_10_H_4)
        with Locations((-135.5, 37.5)):
            Rectangle(ESQUISSE1_10_W_2, ESQUISSE1_10_H_3)
        with Locations((-135.5, 0)):
            Rectangle(ESQUISSE1_10_W_2, ESQUISSE1_10_H_3)
        with Locations((-135.5, -37.5)):
            Rectangle(ESQUISSE1_10_W_2, ESQUISSE1_10_H_3)
        with Locations((-135.5, -61.125)):
            Rectangle(ESQUISSE1_10_W_2, ESQUISSE1_10_H_2)
        with Locations((135.5, 61.125)):
            Rectangle(ESQUISSE1_10_W_2, ESQUISSE1_10_H_2)
    extrude(amount=BOSS_EXTRU_7_DEPTH)


solid = Compound([part.part, body_2.part, body_3.part, body_5.part, body_4_1.part, body_6.part])
